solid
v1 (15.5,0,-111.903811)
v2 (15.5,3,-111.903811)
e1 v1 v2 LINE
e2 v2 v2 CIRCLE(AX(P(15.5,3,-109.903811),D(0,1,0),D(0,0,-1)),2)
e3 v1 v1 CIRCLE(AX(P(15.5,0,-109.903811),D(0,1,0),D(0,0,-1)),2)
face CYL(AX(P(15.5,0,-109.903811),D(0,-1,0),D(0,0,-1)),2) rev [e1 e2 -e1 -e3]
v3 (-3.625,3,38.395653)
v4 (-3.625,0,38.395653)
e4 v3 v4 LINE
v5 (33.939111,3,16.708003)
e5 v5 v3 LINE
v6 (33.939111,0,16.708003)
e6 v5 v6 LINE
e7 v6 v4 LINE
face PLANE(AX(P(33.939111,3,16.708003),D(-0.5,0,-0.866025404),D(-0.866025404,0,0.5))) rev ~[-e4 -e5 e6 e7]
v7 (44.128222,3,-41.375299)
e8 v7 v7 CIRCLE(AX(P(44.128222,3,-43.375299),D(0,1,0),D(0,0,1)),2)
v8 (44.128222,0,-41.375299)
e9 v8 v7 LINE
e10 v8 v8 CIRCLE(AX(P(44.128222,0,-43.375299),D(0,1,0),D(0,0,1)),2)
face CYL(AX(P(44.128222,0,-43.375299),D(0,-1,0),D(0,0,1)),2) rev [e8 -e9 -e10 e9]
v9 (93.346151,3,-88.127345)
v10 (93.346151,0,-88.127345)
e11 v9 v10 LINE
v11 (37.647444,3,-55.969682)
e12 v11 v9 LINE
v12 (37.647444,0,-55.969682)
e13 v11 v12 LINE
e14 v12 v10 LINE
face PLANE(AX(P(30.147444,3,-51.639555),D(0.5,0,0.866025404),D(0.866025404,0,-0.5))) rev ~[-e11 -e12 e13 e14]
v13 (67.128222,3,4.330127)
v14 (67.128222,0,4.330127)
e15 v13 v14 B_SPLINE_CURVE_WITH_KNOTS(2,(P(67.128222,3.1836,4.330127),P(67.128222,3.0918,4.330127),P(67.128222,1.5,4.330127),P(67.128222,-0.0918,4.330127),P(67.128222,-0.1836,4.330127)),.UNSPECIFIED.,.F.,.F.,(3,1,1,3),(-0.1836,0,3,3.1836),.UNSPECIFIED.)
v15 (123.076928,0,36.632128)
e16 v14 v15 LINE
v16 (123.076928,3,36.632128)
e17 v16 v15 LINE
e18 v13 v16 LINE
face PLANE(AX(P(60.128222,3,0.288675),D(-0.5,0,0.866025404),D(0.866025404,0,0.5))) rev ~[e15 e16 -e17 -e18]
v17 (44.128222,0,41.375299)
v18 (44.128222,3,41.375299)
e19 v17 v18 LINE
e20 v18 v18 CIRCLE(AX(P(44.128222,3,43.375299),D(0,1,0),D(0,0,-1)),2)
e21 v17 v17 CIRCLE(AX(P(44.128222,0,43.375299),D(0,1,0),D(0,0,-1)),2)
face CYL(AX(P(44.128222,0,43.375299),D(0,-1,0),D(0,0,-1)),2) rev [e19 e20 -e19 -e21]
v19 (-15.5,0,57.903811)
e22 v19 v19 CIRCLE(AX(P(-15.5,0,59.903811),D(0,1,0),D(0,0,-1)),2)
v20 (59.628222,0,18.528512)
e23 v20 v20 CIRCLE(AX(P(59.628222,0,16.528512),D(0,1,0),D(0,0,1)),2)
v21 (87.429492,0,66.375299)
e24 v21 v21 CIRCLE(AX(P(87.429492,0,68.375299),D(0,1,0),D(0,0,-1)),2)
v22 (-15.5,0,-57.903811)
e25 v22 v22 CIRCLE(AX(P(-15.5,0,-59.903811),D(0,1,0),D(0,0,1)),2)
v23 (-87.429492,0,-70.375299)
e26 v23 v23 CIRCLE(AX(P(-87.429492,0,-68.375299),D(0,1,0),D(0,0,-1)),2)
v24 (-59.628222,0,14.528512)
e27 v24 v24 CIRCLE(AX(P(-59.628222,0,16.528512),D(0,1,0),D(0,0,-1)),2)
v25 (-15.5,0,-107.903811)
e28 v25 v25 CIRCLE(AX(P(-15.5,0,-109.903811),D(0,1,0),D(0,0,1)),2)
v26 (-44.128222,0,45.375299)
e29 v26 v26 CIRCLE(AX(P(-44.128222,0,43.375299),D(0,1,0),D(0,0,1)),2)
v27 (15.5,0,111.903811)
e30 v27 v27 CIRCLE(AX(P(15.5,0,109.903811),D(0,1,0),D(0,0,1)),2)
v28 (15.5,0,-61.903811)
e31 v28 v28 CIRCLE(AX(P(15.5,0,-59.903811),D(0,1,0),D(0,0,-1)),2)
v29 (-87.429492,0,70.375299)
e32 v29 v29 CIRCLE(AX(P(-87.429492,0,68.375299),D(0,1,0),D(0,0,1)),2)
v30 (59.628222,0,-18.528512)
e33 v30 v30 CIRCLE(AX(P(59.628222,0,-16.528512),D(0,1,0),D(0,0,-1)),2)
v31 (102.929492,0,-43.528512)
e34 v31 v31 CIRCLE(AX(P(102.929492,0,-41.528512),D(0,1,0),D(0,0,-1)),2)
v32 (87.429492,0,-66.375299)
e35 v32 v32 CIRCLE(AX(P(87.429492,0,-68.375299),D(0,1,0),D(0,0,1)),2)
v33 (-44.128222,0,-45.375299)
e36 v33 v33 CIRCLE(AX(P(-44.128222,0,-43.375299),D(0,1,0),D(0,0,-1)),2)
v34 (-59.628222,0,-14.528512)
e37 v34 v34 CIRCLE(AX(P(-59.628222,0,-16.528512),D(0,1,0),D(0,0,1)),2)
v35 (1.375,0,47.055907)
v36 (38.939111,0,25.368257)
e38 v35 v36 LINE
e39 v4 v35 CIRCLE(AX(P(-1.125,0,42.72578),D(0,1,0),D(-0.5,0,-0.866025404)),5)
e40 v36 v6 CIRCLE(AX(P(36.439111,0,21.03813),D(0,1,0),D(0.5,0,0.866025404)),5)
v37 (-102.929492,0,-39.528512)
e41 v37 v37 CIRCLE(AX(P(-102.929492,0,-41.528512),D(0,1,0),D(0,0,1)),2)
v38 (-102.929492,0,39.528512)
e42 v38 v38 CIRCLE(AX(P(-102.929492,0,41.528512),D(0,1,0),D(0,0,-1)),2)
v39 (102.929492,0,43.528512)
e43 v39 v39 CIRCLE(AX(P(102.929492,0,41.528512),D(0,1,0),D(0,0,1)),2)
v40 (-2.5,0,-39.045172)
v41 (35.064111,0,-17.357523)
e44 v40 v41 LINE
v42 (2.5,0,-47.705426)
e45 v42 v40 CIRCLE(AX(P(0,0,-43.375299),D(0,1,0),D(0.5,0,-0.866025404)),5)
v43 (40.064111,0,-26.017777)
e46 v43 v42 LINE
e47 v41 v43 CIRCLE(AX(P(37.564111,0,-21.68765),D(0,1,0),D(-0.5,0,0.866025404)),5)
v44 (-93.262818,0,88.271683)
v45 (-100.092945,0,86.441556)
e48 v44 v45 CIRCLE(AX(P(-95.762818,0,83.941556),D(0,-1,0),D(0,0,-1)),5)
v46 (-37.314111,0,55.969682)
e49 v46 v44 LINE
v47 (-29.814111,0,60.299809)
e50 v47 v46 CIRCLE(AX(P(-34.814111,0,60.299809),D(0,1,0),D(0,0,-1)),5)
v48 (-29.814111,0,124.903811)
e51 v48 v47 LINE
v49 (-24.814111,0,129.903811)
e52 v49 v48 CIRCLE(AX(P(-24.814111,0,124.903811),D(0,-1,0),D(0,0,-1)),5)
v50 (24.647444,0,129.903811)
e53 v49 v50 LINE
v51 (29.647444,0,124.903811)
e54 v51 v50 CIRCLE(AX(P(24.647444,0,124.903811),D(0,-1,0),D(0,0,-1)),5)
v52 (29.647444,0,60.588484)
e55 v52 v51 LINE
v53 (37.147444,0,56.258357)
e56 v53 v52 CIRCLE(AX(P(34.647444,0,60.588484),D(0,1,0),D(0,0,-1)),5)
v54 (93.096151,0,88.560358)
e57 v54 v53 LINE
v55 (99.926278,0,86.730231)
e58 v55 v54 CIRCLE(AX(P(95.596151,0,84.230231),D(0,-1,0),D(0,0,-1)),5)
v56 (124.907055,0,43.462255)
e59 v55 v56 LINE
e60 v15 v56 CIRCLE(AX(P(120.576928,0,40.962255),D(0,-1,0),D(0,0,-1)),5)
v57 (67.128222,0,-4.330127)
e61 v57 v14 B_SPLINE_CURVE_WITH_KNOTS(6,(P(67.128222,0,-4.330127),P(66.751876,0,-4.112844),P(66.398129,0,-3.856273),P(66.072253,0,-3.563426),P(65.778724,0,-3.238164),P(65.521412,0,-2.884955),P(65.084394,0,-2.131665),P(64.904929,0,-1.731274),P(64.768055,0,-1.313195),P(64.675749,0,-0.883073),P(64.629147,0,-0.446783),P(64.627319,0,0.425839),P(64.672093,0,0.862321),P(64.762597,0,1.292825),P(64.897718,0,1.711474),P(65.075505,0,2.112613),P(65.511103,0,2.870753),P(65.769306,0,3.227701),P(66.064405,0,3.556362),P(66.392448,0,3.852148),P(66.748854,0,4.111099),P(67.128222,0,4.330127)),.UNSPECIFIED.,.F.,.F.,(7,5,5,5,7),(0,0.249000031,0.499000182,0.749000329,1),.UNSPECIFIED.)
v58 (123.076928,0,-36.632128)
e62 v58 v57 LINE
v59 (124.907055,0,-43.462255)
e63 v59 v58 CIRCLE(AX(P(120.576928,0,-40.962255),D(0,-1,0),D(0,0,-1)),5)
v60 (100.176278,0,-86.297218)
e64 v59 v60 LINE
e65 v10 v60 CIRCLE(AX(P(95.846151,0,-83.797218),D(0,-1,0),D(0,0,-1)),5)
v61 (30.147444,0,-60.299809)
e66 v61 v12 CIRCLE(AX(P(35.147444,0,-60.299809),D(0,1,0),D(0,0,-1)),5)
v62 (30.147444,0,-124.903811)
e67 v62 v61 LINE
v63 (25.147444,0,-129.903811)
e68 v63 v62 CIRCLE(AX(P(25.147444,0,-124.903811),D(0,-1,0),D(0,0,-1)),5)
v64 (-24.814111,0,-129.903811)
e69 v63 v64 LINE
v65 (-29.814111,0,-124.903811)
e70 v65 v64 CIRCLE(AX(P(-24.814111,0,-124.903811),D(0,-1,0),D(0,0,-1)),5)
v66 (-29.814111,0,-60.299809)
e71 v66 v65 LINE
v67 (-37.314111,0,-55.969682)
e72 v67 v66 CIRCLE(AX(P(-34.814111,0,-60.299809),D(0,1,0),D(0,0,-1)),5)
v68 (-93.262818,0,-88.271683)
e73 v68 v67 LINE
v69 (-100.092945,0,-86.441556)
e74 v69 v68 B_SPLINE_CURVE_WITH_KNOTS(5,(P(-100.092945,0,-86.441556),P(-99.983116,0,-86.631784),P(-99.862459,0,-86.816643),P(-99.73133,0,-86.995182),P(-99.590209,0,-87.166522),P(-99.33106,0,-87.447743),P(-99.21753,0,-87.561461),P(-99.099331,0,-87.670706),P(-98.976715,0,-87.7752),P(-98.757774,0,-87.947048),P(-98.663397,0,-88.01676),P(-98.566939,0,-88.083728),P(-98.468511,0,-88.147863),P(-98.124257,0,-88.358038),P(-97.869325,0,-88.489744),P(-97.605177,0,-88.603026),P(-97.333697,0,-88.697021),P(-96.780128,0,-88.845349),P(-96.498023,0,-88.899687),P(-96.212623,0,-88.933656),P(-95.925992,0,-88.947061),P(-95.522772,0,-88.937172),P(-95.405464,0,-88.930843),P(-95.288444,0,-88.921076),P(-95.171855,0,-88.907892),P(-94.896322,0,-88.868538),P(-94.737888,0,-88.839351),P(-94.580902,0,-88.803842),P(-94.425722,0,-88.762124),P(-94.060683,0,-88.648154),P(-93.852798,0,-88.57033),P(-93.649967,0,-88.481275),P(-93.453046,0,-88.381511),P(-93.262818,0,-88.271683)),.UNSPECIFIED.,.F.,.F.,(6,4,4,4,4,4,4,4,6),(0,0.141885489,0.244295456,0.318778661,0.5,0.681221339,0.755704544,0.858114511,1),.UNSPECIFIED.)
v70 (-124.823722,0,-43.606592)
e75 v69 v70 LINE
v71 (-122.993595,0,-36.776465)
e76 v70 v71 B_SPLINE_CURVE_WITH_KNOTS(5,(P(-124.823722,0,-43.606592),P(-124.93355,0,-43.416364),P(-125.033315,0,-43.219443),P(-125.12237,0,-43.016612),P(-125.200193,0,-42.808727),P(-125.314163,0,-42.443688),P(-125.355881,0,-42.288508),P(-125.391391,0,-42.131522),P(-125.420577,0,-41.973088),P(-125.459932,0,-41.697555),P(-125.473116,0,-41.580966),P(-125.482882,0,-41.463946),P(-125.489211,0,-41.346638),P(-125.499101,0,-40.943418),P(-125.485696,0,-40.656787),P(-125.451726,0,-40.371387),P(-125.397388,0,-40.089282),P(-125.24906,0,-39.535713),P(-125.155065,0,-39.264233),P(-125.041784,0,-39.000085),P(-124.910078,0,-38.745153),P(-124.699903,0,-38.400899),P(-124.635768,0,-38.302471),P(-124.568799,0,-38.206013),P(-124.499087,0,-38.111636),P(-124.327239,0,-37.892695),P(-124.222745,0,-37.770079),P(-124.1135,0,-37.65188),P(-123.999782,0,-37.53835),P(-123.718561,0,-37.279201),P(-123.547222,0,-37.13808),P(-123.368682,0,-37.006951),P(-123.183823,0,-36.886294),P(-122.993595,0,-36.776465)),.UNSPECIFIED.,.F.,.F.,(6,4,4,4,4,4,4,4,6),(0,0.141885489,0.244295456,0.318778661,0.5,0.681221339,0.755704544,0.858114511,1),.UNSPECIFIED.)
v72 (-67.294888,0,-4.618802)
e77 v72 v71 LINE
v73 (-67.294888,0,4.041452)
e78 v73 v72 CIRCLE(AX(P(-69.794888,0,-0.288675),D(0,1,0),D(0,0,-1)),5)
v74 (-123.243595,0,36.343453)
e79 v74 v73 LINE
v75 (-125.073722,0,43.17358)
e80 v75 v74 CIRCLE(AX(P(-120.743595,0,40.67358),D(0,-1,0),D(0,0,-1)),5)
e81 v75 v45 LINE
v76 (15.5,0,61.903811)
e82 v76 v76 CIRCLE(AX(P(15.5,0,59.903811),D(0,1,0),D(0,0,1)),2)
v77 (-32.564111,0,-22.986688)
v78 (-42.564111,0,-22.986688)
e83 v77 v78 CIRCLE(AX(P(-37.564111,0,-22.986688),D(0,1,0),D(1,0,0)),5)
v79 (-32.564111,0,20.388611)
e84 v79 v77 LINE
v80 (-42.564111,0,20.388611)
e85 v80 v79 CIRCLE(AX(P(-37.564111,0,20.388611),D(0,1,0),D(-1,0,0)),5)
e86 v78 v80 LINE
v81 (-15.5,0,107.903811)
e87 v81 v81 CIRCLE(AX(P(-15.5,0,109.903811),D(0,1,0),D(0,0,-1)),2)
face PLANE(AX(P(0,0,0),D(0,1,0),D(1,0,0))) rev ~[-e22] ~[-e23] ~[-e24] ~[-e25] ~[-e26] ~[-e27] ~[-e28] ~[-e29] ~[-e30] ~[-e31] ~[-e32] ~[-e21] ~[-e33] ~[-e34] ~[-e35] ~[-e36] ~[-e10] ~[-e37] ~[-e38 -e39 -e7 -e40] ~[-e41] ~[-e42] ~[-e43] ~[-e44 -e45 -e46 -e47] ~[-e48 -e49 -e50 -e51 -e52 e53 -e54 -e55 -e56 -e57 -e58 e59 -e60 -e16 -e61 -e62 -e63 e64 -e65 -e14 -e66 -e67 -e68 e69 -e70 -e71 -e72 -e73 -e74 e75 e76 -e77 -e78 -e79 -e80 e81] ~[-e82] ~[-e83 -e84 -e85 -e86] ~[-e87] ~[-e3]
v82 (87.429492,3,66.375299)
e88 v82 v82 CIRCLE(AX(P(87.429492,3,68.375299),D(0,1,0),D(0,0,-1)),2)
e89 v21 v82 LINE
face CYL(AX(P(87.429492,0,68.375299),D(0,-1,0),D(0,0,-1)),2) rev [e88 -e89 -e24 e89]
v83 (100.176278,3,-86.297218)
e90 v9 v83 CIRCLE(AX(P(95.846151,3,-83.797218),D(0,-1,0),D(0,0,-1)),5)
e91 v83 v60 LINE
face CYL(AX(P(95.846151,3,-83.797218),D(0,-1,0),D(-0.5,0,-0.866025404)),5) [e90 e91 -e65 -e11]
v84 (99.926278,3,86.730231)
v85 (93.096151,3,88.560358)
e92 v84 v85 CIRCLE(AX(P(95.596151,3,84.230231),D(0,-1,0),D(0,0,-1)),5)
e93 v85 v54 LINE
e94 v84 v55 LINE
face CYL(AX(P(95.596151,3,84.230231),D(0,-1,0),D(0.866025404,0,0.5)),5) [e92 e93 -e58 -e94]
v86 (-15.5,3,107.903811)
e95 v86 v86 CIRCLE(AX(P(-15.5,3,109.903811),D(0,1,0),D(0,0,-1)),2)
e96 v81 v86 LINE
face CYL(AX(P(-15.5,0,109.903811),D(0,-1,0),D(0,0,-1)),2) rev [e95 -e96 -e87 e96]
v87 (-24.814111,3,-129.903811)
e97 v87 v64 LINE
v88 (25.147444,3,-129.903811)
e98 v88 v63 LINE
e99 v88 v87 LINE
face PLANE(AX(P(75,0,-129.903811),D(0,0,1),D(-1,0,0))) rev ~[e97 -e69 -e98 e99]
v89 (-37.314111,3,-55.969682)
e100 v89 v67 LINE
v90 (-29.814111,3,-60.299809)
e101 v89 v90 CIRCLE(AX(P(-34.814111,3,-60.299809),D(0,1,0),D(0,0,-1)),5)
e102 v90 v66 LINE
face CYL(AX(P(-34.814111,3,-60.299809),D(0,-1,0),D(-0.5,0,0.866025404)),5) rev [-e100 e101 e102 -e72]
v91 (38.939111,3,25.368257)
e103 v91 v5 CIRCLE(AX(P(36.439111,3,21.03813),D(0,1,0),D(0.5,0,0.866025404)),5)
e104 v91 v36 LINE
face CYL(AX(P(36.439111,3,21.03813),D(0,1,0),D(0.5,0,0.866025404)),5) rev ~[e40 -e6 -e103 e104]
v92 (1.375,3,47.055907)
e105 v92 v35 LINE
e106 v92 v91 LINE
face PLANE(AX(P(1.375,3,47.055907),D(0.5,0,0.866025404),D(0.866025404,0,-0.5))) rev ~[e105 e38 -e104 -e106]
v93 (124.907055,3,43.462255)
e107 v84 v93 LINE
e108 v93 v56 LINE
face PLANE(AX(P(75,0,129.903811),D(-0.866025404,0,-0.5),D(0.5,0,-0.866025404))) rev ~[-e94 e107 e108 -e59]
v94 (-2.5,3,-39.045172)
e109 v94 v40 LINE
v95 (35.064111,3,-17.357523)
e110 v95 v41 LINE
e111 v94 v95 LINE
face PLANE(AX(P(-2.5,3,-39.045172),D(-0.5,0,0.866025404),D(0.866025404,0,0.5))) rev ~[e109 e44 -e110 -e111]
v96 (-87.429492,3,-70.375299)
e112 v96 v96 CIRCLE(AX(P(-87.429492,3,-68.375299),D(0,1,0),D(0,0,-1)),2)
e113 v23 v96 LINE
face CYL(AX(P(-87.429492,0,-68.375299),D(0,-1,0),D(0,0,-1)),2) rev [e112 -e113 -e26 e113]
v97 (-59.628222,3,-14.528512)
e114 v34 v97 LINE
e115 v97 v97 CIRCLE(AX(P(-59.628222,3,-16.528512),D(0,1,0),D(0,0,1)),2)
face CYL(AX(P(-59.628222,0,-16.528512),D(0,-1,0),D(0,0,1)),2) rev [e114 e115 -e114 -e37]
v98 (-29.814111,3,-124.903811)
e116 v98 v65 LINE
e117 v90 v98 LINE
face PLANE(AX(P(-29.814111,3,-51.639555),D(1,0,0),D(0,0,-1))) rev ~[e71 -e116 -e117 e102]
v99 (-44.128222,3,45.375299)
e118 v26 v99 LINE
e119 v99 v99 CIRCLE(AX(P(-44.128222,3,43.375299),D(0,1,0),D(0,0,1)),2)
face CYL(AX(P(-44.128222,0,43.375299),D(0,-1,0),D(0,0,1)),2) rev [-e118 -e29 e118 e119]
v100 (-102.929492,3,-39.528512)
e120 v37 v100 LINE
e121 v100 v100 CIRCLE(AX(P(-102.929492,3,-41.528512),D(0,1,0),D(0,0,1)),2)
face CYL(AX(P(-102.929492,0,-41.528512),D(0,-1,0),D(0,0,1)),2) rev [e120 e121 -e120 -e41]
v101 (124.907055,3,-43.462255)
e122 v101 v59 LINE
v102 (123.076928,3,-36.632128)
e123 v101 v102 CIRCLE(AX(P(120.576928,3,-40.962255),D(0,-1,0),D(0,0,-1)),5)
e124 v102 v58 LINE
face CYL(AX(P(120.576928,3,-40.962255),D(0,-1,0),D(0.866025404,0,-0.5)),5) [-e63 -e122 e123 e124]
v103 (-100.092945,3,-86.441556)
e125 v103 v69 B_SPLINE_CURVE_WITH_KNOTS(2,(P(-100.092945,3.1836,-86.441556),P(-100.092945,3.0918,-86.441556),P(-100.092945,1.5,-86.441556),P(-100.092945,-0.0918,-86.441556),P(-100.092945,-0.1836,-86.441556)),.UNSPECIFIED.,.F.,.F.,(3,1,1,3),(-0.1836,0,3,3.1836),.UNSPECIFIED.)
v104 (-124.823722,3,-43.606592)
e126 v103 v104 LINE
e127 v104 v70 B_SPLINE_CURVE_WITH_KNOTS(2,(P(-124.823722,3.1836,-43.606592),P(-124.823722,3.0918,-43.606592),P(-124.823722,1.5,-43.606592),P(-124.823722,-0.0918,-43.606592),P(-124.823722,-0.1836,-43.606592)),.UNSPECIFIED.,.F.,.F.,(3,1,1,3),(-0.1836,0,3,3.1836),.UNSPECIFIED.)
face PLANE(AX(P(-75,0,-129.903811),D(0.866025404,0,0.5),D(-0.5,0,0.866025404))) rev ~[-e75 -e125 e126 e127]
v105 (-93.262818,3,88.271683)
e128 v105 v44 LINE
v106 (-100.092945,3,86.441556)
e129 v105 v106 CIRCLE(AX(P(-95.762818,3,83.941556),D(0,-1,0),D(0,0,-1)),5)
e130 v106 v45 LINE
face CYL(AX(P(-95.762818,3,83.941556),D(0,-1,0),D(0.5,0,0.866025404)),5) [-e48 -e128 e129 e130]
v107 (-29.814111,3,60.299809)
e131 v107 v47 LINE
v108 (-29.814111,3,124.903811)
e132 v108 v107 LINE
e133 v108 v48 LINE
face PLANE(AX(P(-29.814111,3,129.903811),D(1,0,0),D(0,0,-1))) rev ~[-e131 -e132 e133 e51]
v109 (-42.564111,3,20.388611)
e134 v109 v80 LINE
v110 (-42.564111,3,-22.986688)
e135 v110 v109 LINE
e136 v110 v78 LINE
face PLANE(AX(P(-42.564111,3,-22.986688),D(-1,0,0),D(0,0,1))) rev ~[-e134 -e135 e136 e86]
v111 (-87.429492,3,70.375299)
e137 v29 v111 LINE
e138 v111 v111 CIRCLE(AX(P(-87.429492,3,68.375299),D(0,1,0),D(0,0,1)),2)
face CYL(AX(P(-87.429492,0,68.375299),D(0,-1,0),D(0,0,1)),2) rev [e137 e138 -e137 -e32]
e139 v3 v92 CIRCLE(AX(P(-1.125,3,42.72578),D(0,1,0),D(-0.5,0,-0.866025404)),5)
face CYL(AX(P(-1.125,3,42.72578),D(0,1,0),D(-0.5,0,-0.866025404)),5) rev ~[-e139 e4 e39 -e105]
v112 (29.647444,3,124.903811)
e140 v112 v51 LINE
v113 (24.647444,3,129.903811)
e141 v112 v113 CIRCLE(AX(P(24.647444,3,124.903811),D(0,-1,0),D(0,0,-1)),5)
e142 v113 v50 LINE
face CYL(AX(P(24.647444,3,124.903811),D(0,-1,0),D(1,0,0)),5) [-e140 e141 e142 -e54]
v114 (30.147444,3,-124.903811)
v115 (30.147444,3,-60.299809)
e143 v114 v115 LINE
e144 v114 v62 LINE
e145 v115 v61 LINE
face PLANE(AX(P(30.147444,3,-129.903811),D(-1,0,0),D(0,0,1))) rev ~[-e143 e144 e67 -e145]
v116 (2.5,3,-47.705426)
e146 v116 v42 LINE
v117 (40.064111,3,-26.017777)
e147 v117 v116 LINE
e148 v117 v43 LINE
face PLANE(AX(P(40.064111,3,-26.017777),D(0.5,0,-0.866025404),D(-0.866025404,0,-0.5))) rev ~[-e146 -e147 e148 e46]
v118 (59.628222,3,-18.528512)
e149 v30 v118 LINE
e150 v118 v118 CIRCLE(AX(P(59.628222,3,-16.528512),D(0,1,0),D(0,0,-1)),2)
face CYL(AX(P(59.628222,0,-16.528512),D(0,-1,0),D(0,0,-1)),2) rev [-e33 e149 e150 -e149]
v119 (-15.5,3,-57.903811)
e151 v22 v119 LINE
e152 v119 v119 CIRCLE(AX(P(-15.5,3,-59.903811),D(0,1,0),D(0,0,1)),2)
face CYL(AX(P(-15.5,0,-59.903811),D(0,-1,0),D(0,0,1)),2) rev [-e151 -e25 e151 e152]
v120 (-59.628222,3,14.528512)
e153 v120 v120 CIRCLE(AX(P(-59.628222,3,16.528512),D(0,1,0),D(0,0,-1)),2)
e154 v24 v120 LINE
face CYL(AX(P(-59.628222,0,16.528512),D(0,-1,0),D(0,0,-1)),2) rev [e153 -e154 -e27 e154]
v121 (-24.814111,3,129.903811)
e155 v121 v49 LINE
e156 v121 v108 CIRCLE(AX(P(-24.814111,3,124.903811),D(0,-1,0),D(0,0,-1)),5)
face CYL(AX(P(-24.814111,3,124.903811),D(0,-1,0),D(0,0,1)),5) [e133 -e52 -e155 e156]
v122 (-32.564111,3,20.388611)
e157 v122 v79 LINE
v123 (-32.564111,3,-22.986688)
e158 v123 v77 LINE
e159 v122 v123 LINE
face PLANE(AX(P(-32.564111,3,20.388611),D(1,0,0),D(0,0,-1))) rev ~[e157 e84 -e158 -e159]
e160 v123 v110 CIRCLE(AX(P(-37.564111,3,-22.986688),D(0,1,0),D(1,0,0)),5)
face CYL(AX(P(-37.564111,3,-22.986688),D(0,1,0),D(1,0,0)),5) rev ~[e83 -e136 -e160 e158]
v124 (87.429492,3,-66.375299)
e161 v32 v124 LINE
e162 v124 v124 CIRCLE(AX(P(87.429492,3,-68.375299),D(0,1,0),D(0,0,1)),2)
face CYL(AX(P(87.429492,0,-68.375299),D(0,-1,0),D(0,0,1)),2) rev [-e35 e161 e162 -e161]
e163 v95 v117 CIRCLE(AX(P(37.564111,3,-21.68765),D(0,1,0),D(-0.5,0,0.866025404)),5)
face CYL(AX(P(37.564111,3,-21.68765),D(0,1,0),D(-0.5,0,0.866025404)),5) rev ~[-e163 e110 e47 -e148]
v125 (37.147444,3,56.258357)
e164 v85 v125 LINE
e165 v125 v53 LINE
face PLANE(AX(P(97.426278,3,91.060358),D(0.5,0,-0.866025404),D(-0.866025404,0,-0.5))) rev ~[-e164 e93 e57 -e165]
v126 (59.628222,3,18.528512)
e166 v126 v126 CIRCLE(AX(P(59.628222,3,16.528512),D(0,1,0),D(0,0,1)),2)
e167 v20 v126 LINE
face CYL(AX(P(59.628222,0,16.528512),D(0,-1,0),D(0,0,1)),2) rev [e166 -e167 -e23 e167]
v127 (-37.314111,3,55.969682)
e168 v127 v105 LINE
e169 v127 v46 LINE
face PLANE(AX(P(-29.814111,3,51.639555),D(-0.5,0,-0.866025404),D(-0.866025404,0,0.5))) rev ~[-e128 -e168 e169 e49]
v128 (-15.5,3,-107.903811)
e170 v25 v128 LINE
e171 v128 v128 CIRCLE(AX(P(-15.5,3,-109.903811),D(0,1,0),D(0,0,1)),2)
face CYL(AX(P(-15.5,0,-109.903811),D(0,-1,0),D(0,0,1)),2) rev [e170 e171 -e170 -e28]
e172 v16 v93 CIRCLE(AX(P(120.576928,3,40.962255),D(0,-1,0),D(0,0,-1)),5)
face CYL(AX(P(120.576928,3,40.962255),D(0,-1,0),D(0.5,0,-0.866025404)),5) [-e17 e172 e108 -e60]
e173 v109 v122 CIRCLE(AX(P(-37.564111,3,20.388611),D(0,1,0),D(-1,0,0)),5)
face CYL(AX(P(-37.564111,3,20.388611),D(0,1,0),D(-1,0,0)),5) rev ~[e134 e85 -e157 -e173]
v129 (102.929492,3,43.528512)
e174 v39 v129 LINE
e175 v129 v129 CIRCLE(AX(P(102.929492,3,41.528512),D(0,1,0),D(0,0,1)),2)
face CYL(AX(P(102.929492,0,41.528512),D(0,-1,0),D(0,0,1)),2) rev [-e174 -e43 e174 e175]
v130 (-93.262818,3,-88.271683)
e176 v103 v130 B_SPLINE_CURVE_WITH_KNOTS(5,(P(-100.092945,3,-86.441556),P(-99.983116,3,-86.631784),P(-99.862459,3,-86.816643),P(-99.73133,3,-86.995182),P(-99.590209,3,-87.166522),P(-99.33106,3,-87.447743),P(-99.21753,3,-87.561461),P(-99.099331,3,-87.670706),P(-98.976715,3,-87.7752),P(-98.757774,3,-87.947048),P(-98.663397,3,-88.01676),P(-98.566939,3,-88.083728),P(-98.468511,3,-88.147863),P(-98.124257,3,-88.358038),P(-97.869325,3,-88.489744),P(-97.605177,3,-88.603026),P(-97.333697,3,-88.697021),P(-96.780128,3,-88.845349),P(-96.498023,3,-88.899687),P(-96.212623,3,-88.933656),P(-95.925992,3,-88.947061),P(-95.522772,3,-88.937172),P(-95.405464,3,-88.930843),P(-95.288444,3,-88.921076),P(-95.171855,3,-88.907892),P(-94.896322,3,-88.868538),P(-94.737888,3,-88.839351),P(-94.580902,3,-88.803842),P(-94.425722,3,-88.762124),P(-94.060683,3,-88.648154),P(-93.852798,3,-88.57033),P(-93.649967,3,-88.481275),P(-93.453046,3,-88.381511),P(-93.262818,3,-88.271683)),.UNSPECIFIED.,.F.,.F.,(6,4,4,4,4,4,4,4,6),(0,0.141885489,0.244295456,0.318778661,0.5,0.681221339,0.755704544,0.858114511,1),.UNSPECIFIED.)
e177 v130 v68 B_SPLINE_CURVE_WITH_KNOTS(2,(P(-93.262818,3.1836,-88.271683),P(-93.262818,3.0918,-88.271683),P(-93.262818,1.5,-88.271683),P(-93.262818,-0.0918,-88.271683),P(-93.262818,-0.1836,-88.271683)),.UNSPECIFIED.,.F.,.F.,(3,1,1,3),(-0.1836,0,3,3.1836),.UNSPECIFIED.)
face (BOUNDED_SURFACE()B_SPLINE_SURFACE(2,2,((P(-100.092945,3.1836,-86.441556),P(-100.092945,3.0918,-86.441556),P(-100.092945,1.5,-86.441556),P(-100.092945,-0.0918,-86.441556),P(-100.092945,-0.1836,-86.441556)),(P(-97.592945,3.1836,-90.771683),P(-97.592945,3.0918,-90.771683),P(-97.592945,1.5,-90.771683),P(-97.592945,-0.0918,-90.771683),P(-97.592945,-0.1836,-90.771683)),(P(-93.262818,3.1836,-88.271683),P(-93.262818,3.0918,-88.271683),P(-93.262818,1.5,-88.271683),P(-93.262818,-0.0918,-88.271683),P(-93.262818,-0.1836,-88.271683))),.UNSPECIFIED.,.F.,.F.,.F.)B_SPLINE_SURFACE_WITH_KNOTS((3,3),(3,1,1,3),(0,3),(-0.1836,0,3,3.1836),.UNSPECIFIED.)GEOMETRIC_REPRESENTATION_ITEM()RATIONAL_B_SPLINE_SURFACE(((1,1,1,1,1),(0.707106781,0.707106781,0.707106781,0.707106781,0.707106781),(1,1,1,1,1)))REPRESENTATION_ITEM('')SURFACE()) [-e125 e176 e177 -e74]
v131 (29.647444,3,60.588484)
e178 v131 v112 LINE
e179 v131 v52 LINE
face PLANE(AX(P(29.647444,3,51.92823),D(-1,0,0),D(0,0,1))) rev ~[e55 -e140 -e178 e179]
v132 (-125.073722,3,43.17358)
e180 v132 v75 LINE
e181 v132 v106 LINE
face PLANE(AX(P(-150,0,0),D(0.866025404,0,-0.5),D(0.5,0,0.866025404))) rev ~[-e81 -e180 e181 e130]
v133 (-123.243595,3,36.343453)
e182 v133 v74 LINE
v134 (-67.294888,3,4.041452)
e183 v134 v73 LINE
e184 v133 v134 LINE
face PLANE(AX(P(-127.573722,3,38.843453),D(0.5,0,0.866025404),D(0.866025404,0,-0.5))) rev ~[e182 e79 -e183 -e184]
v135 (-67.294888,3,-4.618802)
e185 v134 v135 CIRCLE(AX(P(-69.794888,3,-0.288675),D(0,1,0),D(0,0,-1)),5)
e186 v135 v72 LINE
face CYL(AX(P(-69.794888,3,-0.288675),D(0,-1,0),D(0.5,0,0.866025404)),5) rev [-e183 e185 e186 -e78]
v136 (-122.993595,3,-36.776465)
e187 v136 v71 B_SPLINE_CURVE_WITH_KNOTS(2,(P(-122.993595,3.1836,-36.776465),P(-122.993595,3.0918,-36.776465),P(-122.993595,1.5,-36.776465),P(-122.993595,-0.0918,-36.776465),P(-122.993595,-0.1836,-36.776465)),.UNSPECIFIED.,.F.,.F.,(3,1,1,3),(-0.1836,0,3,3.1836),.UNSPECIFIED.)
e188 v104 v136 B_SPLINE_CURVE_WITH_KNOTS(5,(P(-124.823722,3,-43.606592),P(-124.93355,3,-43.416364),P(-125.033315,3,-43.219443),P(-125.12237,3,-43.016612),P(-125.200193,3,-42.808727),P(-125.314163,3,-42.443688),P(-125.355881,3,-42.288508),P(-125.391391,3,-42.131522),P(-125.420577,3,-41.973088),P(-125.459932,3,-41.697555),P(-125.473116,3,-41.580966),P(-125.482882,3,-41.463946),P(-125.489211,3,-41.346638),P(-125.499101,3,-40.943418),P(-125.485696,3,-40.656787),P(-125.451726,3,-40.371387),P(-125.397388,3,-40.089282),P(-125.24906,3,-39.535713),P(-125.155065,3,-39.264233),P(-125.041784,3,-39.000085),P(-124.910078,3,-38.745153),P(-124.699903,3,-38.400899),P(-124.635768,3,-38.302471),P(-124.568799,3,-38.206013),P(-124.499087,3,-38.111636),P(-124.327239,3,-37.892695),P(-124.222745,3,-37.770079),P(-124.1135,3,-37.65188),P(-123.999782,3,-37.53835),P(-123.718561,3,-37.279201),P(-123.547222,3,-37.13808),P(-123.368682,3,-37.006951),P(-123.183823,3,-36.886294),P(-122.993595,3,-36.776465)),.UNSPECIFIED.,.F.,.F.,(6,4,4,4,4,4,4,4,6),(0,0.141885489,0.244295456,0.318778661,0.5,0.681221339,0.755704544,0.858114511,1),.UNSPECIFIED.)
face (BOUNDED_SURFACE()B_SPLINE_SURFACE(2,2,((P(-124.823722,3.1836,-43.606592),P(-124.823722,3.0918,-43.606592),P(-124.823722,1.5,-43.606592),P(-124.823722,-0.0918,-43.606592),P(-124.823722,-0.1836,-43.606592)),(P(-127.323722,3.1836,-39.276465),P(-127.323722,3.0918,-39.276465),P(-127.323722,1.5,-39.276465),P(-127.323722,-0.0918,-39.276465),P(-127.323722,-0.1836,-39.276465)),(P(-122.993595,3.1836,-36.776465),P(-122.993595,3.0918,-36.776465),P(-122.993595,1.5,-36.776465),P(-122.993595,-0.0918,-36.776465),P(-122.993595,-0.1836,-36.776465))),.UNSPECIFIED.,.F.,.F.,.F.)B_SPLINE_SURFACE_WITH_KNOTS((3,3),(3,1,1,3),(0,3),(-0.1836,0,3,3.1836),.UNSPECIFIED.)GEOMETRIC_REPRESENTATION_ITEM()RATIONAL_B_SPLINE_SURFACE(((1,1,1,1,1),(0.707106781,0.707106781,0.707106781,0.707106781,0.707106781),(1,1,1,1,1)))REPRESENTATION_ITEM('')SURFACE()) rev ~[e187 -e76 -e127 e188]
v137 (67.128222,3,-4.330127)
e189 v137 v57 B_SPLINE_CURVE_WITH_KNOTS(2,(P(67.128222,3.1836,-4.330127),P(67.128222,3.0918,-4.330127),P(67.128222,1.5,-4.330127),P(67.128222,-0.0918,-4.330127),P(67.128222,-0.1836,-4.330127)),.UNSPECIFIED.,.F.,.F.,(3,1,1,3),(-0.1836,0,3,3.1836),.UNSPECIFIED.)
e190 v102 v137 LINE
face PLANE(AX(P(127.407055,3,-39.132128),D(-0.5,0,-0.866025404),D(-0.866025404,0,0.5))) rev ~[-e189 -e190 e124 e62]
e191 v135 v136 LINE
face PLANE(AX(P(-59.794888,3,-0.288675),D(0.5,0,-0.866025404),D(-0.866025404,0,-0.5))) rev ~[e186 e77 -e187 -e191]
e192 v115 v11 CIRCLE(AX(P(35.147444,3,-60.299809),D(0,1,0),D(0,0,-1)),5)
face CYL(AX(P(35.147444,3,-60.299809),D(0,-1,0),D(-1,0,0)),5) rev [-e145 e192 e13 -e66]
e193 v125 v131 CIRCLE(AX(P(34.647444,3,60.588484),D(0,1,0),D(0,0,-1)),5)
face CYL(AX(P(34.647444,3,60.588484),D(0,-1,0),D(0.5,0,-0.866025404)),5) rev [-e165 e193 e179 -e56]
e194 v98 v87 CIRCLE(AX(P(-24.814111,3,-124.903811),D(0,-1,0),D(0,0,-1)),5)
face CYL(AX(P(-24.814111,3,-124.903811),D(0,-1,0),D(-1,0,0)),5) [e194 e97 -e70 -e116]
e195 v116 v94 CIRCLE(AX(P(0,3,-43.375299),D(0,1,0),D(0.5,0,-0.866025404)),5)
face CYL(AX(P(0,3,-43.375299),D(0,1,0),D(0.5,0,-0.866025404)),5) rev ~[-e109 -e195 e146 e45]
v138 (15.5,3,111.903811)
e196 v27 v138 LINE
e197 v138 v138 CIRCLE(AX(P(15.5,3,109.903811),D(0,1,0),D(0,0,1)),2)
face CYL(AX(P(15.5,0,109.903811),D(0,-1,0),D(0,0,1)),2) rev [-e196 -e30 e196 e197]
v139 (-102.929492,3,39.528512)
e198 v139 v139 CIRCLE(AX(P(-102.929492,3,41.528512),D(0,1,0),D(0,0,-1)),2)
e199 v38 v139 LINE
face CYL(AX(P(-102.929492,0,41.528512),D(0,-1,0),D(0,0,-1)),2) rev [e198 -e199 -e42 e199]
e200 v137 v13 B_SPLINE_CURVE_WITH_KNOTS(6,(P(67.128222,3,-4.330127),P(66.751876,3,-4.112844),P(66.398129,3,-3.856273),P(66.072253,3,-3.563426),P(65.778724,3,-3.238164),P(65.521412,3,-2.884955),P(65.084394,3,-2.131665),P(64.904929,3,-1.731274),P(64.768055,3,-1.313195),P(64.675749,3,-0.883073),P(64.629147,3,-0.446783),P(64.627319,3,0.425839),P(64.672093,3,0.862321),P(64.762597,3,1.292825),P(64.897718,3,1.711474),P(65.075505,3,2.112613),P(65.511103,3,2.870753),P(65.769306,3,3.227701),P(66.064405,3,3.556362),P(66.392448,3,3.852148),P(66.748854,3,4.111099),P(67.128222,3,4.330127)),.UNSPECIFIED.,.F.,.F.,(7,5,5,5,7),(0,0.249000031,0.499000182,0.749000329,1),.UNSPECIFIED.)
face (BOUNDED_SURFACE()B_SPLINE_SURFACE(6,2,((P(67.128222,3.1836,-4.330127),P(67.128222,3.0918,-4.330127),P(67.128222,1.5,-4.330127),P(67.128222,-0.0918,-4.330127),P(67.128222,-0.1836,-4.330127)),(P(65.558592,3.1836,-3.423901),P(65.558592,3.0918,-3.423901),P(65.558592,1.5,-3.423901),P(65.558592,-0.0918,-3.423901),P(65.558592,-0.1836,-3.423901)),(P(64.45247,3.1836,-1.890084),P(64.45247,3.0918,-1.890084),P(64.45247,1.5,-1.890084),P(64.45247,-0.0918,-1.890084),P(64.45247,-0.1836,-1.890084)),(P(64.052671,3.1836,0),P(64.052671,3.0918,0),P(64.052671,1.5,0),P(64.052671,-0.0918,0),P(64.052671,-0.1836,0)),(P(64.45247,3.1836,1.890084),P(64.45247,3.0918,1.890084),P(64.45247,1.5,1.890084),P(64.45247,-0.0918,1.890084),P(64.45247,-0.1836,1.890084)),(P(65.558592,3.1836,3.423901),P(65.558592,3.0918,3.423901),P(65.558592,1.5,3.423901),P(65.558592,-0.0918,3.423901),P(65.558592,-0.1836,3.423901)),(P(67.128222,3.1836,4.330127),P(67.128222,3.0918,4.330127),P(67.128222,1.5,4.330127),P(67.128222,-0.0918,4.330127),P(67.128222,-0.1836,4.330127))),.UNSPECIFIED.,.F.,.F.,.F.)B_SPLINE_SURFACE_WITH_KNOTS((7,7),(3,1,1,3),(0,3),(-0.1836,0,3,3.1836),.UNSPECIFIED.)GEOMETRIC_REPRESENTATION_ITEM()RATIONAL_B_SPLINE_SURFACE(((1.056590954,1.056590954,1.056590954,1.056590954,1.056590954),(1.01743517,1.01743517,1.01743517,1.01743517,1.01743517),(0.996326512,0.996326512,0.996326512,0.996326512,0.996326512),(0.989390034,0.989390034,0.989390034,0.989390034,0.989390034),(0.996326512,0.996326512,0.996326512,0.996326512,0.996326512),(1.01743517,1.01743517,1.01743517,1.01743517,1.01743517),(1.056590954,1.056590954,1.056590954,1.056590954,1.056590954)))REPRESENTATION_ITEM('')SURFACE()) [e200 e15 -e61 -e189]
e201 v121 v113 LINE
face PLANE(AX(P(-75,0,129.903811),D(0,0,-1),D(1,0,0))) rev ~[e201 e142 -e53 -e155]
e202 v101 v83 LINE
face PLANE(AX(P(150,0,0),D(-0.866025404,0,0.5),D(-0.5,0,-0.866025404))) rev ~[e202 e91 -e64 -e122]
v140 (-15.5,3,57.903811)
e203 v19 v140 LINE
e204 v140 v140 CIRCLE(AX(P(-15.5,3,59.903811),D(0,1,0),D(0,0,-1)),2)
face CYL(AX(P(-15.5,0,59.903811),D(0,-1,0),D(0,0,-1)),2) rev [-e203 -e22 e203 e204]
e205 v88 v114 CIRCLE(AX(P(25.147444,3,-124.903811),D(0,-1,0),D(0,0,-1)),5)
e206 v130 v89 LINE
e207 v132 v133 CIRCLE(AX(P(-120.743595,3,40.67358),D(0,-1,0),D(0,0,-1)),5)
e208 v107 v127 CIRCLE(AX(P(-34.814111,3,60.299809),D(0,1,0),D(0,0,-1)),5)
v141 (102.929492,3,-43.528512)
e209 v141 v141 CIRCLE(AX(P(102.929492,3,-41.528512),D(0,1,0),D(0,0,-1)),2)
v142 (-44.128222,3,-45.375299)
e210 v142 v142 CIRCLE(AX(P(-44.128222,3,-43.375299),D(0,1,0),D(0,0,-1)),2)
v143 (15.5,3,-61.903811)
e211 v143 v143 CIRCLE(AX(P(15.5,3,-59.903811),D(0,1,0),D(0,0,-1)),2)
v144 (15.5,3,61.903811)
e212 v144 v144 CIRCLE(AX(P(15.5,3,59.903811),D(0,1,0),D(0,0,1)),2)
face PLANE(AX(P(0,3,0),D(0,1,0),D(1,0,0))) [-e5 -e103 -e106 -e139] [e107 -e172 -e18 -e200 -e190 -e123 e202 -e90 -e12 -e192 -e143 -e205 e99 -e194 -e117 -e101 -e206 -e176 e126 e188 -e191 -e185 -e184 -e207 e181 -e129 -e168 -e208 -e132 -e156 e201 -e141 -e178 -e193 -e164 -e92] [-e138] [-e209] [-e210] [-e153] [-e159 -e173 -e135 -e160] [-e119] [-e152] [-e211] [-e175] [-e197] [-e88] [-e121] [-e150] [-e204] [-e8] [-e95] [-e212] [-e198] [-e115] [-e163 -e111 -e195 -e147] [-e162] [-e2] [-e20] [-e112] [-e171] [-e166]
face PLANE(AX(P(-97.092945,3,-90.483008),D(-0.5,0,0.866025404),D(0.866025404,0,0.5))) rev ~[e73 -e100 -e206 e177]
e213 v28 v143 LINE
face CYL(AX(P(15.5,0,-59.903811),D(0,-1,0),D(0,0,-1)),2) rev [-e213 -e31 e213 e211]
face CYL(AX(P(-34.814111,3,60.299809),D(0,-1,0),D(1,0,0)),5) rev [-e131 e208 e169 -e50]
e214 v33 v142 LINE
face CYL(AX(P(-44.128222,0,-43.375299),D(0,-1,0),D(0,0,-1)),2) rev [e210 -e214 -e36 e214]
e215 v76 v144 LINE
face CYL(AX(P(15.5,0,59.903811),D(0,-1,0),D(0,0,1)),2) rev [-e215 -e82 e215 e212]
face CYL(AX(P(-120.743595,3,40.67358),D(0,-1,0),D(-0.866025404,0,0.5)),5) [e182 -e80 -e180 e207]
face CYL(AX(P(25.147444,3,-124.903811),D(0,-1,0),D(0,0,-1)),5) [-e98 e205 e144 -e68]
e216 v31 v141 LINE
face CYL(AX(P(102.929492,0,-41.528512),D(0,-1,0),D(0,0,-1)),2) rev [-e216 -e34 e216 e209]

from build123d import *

# Parameters (mm, degrees)
ESQUISSE1_R             = 2
BOSS_EXTRU_1_DEPTH      = 3
CONG_2_R                = 10
CONG_3_R                = 10
ENL_V_MAT_EXTRU_1_DEPTH = 198.287332615
CONG_4_R                = 5


with BuildPart() as part:
    # Esquisse1 → Boss.-Extru.1 (new body)
    with BuildSketch(Plane(origin=(0, 0, 0), x_dir=(1, 0, 0), z_dir=(0, 1, 0))):
        Polygon((-150, 0), (-75, -129.903810568), (75, -129.903810568), (150, 0), (75, 129.903810568), (-75, 129.903810568), align=None)
        with Locations(Location((15.5, -109.903810568, 0), (0, 0, 270))):
            Circle(ESQUISSE1_R, mode=Mode.SUBTRACT)
        with Locations(Location((-15.5, -109.903810568, 0), (0, 0, 90))):
            Circle(ESQUISSE1_R, mode=Mode.SUBTRACT)
        with Locations(Location((15.5, -59.903810568, 0), (0, 0, 270))):
            Circle(ESQUISSE1_R, mode=Mode.SUBTRACT)
        with Locations(Location((-15.5, -59.903810568, 0), (0, 0, 90))):
            Circle(ESQUISSE1_R, mode=Mode.SUBTRACT)
        with Locations(Location((-87.429491924, -68.375299042, 0), (0, 0, 270))):
            Circle(ESQUISSE1_R, mode=Mode.SUBTRACT)
        with Locations(Location((-102.929491924, -41.528511525, 0), (0, 0, 90))):
            Circle(ESQUISSE1_R, mode=Mode.SUBTRACT)
        with Locations(Location((-59.628221735, -16.528511525, 0), (0, 0, 90))):
            Circle(ESQUISSE1_R, mode=Mode.SUBTRACT)
        with Locations(Location((-44.128221735, -43.375299042, 0), (0, 0, 270))):
            Circle(ESQUISSE1_R, mode=Mode.SUBTRACT)
        with Locations(Location((-102.929491924, 41.528511525, 0), (0, 0, 270))):
            Circle(ESQUISSE1_R, mode=Mode.SUBTRACT)
        with Locations(Location((-87.429491924, 68.375299042, 0), (0, 0, 90))):
            Circle(ESQUISSE1_R, mode=Mode.SUBTRACT)
        with Locations(Location((-44.128221735, 43.375299042, 0), (0, 0, 90))):
            Circle(ESQUISSE1_R, mode=Mode.SUBTRACT)
        with Locations(Location((-59.628221735, 16.528511525, 0), (0, 0, 270))):
            Circle(ESQUISSE1_R, mode=Mode.SUBTRACT)
        with Locations(Location((-15.5, 109.903810568, 0), (0, 0, 270))):
            Circle(ESQUISSE1_R, mode=Mode.SUBTRACT)
        with Locations(Location((15.5, 109.903810568, 0), (0, 0, 90))):
            Circle(ESQUISSE1_R, mode=Mode.SUBTRACT)
        with Locations(Location((15.5, 59.903810568, 0), (0, 0, 90))):
            Circle(ESQUISSE1_R, mode=Mode.SUBTRACT)
        with Locations(Location((-15.5, 59.903810568, 0), (0, 0, 270))):
            Circle(ESQUISSE1_R, mode=Mode.SUBTRACT)
        with Locations(Location((87.429491924, 68.375299042, 0), (0, 0, 270))):
            Circle(ESQUISSE1_R, mode=Mode.SUBTRACT)
        with Locations(Location((102.929491924, 41.528511525, 0), (0, 0, 90))):
            Circle(ESQUISSE1_R, mode=Mode.SUBTRACT)
        with Locations(Location((59.628221735, 16.528511525, 0), (0, 0, 90))):
            Circle(ESQUISSE1_R, mode=Mode.SUBTRACT)
        with Locations(Location((44.128221735, 43.375299042, 0), (0, 0, 270))):
            Circle(ESQUISSE1_R, mode=Mode.SUBTRACT)
        with Locations(Location((102.929491924, -41.528511525, 0), (0, 0, 270))):
            Circle(ESQUISSE1_R, mode=Mode.SUBTRACT)
        with Locations(Location((87.429491924, -68.375299042, 0), (0, 0, 90))):
            Circle(ESQUISSE1_R, mode=Mode.SUBTRACT)
        with Locations(Location((44.128221735, -43.375299042, 0), (0, 0, 90))):
            Circle(ESQUISSE1_R, mode=Mode.SUBTRACT)
        with Locations(Location((59.628221735, -16.528511525, 0), (0, 0, 270))):
            Circle(ESQUISSE1_R, mode=Mode.SUBTRACT)
    extrude(amount=BOSS_EXTRU_1_DEPTH)

    # Congé2
    cong_2_edges = [part.edges().sort_by_distance(p)[0] for p in [
        (-75, 1.5, -129.903810568),
    ]]
    fillet(cong_2_edges, radius=CONG_2_R)

    # Congé3
    cong_3_edges = [part.edges().sort_by_distance(p)[0] for p in [
        (75, 1.5, -129.903810568),
        (150, 1.5, 0),
        (75, 1.5, 129.903810568),
        (-75, 1.5, 129.903810568),
        (-150, 1.5, 0),
    ]]
    fillet(cong_3_edges, radius=CONG_3_R)

    # Esquisse3 → Enlèv. mat.-Extru.1 (cut, through all)
    with BuildSketch(Plane(origin=(0, 3, 0), x_dir=(1, 0, 0), z_dir=(0, 1, 0))):
        with BuildLine():
            Line((-69.226497308, -129.903810568), (-29.814110868, -129.903810568))
            Line((-29.814110868, -129.903810568), (-29.814110868, -51.639554805))
            Line((-29.814110868, -51.639554805), (-97.592944566, -90.771682686))
            Line((-97.592944566, -90.771682686), (-77.886751346, -124.903810568))
            ThreePointArc((-77.886751346, -124.903810568), (-74.226497308, -128.564064606), (-69.226497308, -129.903810568))
        make_face()
        with BuildLine():
            Line((-147.113248654, -5), (-127.5737221, -38.843452747))
            Line((-127.5737221, -38.843452747), (-59.794888402, 0.288675135))
            Line((-59.794888402, 0.288675135), (-127.0737221, 39.132127881))
            Line((-127.0737221, 39.132127881), (-127.3237221, 39.276465449))
            Line((-127.3237221, 39.276465449), (-147.113248654, 5))
            ThreePointArc((-147.113248654, 5), (-148.452994616, 0), (-147.113248654, -5))
        make_face()
        with BuildLine():
            Line((-77.886751346, 124.903810568), (-97.592944566, 90.771682686))
            Line((-97.592944566, 90.771682686), (-97.092944566, 90.483007552))
            Line((-97.092944566, 90.483007552), (-29.814110868, 51.639554805))
            Line((-29.814110868, 51.639554805), (-29.814110868, 129.903810568))
            Line((-29.814110868, 129.903810568), (-69.226497308, 129.903810568))
            ThreePointArc((-69.226497308, 129.903810568), (-74.226497308, 128.564064606), (-77.886751346, 124.903810568))
        make_face()
        with BuildLine():
            Line((30.147444201, 51.639554805), (97.6762779, 90.627345119))
            Line((97.6762779, 90.627345119), (77.886751346, 124.903810568))
            ThreePointArc((77.886751346, 124.903810568), (74.226497308, 128.564064606), (69.226497308, 129.903810568))
            Line((69.226497308, 129.903810568), (30.147444201, 129.903810568))
            Line((30.147444201, 129.903810568), (30.147444201, 129.326460298))
            Line((30.147444201, 129.326460298), (30.147444201, 51.639554805))
        make_face()
        with BuildLine():
            Line((60.128221735, -0.288675135), (127.407055434, -39.132127881))
            Line((127.407055434, -39.132127881), (147.113248654, -5))
            ThreePointArc((147.113248654, -5), (148.452994616, 0), (147.113248654, 5))
            Line((147.113248654, 5), (127.407055434, 39.132127881))
            Line((127.407055434, 39.132127881), (59.628221735, 0))
            Line((59.628221735, 0), (60.128221735, -0.288675135))
        make_face()
        with BuildLine():
            Line((29.647444201, -51.92822994), (29.647444201, -129.903810568))
            Line((29.647444201, -129.903810568), (69.226497308, -129.903810568))
            ThreePointArc((69.226497308, -129.903810568), (74.226497308, -128.564064606), (77.886751346, -124.903810568))
            Line((77.886751346, -124.903810568), (97.4262779, -91.060357821))
            Line((97.4262779, -91.060357821), (29.647444201, -51.92822994))
        make_face()
        with BuildLine():
            Line((-32.564110868, -20.388611416), (-32.564110868, 22.986687627))
            ThreePointArc((-32.564110868, 22.986687627), (-37.564110868, 27.986687627), (-42.564110868, 22.986687627))
            Line((-42.564110868, 22.986687627), (-42.564110868, -20.388611416))
            ThreePointArc((-42.564110868, -20.388611416), (-37.564110868, -25.388611416), (-32.564110868, -20.388611416))
        make_face()
        with BuildLine():
            Line((33.939110868, -16.708003449), (-3.625, -38.395652971))
            ThreePointArc((-3.625, -38.395652971), (-5.455127019, -45.22577999), (1.375, -47.055907009))
            Line((1.375, -47.055907009), (38.939110868, -25.368257487))
            ThreePointArc((38.939110868, -25.368257487), (40.769237886, -18.538130468), (33.939110868, -16.708003449))
        make_face()
        with BuildLine():
            Line((-2.5, 39.045172024), (35.064110868, 17.357522502))
            ThreePointArc((35.064110868, 17.357522502), (41.894237886, 19.187649521), (40.064110868, 26.01777654))
            Line((40.064110868, 26.01777654), (2.5, 47.705426061))
            ThreePointArc((2.5, 47.705426061), (-4.330127019, 45.875299042), (-2.5, 39.045172024))
        make_face()
    extrude(amount=-ENL_V_MAT_EXTRU_1_DEPTH, mode=Mode.SUBTRACT)

    # Congé4
    cong_4_edges = [part.edges().sort_by_distance(p)[0] for p in [
        (-127.5737221, 1.5, 38.843452747),
        (-127.3237221, 1.5, -39.276465449),
        (-59.794888402, 1.5, -0.288675135),
        (-97.592944566, 1.5, -90.771682686),
        (-29.814110868, 1.5, -129.903810568),
        (-29.814110868, 1.5, -51.639554805),
        (30.147444201, 1.5, -129.903810568),
        (97.6762779, 1.5, -90.627345119),
        (30.147444201, 1.5, -51.639554805),
        (127.407055434, 1.5, -39.132127881),
        (127.407055434, 1.5, 39.132127881),
        (59.628221735, 1.5, 0),
        (97.4262779, 1.5, 91.060357821),
        (29.647444201, 1.5, 129.903810568),
        (29.647444201, 1.5, 51.92822994),
        (-29.814110868, 1.5, 51.639554805),
        (-29.814110868, 1.5, 129.903810568),
        (-97.592944566, 1.5, 90.771682686),
    ]]
    fillet(cong_4_edges, radius=CONG_4_R)


solid = part.part
